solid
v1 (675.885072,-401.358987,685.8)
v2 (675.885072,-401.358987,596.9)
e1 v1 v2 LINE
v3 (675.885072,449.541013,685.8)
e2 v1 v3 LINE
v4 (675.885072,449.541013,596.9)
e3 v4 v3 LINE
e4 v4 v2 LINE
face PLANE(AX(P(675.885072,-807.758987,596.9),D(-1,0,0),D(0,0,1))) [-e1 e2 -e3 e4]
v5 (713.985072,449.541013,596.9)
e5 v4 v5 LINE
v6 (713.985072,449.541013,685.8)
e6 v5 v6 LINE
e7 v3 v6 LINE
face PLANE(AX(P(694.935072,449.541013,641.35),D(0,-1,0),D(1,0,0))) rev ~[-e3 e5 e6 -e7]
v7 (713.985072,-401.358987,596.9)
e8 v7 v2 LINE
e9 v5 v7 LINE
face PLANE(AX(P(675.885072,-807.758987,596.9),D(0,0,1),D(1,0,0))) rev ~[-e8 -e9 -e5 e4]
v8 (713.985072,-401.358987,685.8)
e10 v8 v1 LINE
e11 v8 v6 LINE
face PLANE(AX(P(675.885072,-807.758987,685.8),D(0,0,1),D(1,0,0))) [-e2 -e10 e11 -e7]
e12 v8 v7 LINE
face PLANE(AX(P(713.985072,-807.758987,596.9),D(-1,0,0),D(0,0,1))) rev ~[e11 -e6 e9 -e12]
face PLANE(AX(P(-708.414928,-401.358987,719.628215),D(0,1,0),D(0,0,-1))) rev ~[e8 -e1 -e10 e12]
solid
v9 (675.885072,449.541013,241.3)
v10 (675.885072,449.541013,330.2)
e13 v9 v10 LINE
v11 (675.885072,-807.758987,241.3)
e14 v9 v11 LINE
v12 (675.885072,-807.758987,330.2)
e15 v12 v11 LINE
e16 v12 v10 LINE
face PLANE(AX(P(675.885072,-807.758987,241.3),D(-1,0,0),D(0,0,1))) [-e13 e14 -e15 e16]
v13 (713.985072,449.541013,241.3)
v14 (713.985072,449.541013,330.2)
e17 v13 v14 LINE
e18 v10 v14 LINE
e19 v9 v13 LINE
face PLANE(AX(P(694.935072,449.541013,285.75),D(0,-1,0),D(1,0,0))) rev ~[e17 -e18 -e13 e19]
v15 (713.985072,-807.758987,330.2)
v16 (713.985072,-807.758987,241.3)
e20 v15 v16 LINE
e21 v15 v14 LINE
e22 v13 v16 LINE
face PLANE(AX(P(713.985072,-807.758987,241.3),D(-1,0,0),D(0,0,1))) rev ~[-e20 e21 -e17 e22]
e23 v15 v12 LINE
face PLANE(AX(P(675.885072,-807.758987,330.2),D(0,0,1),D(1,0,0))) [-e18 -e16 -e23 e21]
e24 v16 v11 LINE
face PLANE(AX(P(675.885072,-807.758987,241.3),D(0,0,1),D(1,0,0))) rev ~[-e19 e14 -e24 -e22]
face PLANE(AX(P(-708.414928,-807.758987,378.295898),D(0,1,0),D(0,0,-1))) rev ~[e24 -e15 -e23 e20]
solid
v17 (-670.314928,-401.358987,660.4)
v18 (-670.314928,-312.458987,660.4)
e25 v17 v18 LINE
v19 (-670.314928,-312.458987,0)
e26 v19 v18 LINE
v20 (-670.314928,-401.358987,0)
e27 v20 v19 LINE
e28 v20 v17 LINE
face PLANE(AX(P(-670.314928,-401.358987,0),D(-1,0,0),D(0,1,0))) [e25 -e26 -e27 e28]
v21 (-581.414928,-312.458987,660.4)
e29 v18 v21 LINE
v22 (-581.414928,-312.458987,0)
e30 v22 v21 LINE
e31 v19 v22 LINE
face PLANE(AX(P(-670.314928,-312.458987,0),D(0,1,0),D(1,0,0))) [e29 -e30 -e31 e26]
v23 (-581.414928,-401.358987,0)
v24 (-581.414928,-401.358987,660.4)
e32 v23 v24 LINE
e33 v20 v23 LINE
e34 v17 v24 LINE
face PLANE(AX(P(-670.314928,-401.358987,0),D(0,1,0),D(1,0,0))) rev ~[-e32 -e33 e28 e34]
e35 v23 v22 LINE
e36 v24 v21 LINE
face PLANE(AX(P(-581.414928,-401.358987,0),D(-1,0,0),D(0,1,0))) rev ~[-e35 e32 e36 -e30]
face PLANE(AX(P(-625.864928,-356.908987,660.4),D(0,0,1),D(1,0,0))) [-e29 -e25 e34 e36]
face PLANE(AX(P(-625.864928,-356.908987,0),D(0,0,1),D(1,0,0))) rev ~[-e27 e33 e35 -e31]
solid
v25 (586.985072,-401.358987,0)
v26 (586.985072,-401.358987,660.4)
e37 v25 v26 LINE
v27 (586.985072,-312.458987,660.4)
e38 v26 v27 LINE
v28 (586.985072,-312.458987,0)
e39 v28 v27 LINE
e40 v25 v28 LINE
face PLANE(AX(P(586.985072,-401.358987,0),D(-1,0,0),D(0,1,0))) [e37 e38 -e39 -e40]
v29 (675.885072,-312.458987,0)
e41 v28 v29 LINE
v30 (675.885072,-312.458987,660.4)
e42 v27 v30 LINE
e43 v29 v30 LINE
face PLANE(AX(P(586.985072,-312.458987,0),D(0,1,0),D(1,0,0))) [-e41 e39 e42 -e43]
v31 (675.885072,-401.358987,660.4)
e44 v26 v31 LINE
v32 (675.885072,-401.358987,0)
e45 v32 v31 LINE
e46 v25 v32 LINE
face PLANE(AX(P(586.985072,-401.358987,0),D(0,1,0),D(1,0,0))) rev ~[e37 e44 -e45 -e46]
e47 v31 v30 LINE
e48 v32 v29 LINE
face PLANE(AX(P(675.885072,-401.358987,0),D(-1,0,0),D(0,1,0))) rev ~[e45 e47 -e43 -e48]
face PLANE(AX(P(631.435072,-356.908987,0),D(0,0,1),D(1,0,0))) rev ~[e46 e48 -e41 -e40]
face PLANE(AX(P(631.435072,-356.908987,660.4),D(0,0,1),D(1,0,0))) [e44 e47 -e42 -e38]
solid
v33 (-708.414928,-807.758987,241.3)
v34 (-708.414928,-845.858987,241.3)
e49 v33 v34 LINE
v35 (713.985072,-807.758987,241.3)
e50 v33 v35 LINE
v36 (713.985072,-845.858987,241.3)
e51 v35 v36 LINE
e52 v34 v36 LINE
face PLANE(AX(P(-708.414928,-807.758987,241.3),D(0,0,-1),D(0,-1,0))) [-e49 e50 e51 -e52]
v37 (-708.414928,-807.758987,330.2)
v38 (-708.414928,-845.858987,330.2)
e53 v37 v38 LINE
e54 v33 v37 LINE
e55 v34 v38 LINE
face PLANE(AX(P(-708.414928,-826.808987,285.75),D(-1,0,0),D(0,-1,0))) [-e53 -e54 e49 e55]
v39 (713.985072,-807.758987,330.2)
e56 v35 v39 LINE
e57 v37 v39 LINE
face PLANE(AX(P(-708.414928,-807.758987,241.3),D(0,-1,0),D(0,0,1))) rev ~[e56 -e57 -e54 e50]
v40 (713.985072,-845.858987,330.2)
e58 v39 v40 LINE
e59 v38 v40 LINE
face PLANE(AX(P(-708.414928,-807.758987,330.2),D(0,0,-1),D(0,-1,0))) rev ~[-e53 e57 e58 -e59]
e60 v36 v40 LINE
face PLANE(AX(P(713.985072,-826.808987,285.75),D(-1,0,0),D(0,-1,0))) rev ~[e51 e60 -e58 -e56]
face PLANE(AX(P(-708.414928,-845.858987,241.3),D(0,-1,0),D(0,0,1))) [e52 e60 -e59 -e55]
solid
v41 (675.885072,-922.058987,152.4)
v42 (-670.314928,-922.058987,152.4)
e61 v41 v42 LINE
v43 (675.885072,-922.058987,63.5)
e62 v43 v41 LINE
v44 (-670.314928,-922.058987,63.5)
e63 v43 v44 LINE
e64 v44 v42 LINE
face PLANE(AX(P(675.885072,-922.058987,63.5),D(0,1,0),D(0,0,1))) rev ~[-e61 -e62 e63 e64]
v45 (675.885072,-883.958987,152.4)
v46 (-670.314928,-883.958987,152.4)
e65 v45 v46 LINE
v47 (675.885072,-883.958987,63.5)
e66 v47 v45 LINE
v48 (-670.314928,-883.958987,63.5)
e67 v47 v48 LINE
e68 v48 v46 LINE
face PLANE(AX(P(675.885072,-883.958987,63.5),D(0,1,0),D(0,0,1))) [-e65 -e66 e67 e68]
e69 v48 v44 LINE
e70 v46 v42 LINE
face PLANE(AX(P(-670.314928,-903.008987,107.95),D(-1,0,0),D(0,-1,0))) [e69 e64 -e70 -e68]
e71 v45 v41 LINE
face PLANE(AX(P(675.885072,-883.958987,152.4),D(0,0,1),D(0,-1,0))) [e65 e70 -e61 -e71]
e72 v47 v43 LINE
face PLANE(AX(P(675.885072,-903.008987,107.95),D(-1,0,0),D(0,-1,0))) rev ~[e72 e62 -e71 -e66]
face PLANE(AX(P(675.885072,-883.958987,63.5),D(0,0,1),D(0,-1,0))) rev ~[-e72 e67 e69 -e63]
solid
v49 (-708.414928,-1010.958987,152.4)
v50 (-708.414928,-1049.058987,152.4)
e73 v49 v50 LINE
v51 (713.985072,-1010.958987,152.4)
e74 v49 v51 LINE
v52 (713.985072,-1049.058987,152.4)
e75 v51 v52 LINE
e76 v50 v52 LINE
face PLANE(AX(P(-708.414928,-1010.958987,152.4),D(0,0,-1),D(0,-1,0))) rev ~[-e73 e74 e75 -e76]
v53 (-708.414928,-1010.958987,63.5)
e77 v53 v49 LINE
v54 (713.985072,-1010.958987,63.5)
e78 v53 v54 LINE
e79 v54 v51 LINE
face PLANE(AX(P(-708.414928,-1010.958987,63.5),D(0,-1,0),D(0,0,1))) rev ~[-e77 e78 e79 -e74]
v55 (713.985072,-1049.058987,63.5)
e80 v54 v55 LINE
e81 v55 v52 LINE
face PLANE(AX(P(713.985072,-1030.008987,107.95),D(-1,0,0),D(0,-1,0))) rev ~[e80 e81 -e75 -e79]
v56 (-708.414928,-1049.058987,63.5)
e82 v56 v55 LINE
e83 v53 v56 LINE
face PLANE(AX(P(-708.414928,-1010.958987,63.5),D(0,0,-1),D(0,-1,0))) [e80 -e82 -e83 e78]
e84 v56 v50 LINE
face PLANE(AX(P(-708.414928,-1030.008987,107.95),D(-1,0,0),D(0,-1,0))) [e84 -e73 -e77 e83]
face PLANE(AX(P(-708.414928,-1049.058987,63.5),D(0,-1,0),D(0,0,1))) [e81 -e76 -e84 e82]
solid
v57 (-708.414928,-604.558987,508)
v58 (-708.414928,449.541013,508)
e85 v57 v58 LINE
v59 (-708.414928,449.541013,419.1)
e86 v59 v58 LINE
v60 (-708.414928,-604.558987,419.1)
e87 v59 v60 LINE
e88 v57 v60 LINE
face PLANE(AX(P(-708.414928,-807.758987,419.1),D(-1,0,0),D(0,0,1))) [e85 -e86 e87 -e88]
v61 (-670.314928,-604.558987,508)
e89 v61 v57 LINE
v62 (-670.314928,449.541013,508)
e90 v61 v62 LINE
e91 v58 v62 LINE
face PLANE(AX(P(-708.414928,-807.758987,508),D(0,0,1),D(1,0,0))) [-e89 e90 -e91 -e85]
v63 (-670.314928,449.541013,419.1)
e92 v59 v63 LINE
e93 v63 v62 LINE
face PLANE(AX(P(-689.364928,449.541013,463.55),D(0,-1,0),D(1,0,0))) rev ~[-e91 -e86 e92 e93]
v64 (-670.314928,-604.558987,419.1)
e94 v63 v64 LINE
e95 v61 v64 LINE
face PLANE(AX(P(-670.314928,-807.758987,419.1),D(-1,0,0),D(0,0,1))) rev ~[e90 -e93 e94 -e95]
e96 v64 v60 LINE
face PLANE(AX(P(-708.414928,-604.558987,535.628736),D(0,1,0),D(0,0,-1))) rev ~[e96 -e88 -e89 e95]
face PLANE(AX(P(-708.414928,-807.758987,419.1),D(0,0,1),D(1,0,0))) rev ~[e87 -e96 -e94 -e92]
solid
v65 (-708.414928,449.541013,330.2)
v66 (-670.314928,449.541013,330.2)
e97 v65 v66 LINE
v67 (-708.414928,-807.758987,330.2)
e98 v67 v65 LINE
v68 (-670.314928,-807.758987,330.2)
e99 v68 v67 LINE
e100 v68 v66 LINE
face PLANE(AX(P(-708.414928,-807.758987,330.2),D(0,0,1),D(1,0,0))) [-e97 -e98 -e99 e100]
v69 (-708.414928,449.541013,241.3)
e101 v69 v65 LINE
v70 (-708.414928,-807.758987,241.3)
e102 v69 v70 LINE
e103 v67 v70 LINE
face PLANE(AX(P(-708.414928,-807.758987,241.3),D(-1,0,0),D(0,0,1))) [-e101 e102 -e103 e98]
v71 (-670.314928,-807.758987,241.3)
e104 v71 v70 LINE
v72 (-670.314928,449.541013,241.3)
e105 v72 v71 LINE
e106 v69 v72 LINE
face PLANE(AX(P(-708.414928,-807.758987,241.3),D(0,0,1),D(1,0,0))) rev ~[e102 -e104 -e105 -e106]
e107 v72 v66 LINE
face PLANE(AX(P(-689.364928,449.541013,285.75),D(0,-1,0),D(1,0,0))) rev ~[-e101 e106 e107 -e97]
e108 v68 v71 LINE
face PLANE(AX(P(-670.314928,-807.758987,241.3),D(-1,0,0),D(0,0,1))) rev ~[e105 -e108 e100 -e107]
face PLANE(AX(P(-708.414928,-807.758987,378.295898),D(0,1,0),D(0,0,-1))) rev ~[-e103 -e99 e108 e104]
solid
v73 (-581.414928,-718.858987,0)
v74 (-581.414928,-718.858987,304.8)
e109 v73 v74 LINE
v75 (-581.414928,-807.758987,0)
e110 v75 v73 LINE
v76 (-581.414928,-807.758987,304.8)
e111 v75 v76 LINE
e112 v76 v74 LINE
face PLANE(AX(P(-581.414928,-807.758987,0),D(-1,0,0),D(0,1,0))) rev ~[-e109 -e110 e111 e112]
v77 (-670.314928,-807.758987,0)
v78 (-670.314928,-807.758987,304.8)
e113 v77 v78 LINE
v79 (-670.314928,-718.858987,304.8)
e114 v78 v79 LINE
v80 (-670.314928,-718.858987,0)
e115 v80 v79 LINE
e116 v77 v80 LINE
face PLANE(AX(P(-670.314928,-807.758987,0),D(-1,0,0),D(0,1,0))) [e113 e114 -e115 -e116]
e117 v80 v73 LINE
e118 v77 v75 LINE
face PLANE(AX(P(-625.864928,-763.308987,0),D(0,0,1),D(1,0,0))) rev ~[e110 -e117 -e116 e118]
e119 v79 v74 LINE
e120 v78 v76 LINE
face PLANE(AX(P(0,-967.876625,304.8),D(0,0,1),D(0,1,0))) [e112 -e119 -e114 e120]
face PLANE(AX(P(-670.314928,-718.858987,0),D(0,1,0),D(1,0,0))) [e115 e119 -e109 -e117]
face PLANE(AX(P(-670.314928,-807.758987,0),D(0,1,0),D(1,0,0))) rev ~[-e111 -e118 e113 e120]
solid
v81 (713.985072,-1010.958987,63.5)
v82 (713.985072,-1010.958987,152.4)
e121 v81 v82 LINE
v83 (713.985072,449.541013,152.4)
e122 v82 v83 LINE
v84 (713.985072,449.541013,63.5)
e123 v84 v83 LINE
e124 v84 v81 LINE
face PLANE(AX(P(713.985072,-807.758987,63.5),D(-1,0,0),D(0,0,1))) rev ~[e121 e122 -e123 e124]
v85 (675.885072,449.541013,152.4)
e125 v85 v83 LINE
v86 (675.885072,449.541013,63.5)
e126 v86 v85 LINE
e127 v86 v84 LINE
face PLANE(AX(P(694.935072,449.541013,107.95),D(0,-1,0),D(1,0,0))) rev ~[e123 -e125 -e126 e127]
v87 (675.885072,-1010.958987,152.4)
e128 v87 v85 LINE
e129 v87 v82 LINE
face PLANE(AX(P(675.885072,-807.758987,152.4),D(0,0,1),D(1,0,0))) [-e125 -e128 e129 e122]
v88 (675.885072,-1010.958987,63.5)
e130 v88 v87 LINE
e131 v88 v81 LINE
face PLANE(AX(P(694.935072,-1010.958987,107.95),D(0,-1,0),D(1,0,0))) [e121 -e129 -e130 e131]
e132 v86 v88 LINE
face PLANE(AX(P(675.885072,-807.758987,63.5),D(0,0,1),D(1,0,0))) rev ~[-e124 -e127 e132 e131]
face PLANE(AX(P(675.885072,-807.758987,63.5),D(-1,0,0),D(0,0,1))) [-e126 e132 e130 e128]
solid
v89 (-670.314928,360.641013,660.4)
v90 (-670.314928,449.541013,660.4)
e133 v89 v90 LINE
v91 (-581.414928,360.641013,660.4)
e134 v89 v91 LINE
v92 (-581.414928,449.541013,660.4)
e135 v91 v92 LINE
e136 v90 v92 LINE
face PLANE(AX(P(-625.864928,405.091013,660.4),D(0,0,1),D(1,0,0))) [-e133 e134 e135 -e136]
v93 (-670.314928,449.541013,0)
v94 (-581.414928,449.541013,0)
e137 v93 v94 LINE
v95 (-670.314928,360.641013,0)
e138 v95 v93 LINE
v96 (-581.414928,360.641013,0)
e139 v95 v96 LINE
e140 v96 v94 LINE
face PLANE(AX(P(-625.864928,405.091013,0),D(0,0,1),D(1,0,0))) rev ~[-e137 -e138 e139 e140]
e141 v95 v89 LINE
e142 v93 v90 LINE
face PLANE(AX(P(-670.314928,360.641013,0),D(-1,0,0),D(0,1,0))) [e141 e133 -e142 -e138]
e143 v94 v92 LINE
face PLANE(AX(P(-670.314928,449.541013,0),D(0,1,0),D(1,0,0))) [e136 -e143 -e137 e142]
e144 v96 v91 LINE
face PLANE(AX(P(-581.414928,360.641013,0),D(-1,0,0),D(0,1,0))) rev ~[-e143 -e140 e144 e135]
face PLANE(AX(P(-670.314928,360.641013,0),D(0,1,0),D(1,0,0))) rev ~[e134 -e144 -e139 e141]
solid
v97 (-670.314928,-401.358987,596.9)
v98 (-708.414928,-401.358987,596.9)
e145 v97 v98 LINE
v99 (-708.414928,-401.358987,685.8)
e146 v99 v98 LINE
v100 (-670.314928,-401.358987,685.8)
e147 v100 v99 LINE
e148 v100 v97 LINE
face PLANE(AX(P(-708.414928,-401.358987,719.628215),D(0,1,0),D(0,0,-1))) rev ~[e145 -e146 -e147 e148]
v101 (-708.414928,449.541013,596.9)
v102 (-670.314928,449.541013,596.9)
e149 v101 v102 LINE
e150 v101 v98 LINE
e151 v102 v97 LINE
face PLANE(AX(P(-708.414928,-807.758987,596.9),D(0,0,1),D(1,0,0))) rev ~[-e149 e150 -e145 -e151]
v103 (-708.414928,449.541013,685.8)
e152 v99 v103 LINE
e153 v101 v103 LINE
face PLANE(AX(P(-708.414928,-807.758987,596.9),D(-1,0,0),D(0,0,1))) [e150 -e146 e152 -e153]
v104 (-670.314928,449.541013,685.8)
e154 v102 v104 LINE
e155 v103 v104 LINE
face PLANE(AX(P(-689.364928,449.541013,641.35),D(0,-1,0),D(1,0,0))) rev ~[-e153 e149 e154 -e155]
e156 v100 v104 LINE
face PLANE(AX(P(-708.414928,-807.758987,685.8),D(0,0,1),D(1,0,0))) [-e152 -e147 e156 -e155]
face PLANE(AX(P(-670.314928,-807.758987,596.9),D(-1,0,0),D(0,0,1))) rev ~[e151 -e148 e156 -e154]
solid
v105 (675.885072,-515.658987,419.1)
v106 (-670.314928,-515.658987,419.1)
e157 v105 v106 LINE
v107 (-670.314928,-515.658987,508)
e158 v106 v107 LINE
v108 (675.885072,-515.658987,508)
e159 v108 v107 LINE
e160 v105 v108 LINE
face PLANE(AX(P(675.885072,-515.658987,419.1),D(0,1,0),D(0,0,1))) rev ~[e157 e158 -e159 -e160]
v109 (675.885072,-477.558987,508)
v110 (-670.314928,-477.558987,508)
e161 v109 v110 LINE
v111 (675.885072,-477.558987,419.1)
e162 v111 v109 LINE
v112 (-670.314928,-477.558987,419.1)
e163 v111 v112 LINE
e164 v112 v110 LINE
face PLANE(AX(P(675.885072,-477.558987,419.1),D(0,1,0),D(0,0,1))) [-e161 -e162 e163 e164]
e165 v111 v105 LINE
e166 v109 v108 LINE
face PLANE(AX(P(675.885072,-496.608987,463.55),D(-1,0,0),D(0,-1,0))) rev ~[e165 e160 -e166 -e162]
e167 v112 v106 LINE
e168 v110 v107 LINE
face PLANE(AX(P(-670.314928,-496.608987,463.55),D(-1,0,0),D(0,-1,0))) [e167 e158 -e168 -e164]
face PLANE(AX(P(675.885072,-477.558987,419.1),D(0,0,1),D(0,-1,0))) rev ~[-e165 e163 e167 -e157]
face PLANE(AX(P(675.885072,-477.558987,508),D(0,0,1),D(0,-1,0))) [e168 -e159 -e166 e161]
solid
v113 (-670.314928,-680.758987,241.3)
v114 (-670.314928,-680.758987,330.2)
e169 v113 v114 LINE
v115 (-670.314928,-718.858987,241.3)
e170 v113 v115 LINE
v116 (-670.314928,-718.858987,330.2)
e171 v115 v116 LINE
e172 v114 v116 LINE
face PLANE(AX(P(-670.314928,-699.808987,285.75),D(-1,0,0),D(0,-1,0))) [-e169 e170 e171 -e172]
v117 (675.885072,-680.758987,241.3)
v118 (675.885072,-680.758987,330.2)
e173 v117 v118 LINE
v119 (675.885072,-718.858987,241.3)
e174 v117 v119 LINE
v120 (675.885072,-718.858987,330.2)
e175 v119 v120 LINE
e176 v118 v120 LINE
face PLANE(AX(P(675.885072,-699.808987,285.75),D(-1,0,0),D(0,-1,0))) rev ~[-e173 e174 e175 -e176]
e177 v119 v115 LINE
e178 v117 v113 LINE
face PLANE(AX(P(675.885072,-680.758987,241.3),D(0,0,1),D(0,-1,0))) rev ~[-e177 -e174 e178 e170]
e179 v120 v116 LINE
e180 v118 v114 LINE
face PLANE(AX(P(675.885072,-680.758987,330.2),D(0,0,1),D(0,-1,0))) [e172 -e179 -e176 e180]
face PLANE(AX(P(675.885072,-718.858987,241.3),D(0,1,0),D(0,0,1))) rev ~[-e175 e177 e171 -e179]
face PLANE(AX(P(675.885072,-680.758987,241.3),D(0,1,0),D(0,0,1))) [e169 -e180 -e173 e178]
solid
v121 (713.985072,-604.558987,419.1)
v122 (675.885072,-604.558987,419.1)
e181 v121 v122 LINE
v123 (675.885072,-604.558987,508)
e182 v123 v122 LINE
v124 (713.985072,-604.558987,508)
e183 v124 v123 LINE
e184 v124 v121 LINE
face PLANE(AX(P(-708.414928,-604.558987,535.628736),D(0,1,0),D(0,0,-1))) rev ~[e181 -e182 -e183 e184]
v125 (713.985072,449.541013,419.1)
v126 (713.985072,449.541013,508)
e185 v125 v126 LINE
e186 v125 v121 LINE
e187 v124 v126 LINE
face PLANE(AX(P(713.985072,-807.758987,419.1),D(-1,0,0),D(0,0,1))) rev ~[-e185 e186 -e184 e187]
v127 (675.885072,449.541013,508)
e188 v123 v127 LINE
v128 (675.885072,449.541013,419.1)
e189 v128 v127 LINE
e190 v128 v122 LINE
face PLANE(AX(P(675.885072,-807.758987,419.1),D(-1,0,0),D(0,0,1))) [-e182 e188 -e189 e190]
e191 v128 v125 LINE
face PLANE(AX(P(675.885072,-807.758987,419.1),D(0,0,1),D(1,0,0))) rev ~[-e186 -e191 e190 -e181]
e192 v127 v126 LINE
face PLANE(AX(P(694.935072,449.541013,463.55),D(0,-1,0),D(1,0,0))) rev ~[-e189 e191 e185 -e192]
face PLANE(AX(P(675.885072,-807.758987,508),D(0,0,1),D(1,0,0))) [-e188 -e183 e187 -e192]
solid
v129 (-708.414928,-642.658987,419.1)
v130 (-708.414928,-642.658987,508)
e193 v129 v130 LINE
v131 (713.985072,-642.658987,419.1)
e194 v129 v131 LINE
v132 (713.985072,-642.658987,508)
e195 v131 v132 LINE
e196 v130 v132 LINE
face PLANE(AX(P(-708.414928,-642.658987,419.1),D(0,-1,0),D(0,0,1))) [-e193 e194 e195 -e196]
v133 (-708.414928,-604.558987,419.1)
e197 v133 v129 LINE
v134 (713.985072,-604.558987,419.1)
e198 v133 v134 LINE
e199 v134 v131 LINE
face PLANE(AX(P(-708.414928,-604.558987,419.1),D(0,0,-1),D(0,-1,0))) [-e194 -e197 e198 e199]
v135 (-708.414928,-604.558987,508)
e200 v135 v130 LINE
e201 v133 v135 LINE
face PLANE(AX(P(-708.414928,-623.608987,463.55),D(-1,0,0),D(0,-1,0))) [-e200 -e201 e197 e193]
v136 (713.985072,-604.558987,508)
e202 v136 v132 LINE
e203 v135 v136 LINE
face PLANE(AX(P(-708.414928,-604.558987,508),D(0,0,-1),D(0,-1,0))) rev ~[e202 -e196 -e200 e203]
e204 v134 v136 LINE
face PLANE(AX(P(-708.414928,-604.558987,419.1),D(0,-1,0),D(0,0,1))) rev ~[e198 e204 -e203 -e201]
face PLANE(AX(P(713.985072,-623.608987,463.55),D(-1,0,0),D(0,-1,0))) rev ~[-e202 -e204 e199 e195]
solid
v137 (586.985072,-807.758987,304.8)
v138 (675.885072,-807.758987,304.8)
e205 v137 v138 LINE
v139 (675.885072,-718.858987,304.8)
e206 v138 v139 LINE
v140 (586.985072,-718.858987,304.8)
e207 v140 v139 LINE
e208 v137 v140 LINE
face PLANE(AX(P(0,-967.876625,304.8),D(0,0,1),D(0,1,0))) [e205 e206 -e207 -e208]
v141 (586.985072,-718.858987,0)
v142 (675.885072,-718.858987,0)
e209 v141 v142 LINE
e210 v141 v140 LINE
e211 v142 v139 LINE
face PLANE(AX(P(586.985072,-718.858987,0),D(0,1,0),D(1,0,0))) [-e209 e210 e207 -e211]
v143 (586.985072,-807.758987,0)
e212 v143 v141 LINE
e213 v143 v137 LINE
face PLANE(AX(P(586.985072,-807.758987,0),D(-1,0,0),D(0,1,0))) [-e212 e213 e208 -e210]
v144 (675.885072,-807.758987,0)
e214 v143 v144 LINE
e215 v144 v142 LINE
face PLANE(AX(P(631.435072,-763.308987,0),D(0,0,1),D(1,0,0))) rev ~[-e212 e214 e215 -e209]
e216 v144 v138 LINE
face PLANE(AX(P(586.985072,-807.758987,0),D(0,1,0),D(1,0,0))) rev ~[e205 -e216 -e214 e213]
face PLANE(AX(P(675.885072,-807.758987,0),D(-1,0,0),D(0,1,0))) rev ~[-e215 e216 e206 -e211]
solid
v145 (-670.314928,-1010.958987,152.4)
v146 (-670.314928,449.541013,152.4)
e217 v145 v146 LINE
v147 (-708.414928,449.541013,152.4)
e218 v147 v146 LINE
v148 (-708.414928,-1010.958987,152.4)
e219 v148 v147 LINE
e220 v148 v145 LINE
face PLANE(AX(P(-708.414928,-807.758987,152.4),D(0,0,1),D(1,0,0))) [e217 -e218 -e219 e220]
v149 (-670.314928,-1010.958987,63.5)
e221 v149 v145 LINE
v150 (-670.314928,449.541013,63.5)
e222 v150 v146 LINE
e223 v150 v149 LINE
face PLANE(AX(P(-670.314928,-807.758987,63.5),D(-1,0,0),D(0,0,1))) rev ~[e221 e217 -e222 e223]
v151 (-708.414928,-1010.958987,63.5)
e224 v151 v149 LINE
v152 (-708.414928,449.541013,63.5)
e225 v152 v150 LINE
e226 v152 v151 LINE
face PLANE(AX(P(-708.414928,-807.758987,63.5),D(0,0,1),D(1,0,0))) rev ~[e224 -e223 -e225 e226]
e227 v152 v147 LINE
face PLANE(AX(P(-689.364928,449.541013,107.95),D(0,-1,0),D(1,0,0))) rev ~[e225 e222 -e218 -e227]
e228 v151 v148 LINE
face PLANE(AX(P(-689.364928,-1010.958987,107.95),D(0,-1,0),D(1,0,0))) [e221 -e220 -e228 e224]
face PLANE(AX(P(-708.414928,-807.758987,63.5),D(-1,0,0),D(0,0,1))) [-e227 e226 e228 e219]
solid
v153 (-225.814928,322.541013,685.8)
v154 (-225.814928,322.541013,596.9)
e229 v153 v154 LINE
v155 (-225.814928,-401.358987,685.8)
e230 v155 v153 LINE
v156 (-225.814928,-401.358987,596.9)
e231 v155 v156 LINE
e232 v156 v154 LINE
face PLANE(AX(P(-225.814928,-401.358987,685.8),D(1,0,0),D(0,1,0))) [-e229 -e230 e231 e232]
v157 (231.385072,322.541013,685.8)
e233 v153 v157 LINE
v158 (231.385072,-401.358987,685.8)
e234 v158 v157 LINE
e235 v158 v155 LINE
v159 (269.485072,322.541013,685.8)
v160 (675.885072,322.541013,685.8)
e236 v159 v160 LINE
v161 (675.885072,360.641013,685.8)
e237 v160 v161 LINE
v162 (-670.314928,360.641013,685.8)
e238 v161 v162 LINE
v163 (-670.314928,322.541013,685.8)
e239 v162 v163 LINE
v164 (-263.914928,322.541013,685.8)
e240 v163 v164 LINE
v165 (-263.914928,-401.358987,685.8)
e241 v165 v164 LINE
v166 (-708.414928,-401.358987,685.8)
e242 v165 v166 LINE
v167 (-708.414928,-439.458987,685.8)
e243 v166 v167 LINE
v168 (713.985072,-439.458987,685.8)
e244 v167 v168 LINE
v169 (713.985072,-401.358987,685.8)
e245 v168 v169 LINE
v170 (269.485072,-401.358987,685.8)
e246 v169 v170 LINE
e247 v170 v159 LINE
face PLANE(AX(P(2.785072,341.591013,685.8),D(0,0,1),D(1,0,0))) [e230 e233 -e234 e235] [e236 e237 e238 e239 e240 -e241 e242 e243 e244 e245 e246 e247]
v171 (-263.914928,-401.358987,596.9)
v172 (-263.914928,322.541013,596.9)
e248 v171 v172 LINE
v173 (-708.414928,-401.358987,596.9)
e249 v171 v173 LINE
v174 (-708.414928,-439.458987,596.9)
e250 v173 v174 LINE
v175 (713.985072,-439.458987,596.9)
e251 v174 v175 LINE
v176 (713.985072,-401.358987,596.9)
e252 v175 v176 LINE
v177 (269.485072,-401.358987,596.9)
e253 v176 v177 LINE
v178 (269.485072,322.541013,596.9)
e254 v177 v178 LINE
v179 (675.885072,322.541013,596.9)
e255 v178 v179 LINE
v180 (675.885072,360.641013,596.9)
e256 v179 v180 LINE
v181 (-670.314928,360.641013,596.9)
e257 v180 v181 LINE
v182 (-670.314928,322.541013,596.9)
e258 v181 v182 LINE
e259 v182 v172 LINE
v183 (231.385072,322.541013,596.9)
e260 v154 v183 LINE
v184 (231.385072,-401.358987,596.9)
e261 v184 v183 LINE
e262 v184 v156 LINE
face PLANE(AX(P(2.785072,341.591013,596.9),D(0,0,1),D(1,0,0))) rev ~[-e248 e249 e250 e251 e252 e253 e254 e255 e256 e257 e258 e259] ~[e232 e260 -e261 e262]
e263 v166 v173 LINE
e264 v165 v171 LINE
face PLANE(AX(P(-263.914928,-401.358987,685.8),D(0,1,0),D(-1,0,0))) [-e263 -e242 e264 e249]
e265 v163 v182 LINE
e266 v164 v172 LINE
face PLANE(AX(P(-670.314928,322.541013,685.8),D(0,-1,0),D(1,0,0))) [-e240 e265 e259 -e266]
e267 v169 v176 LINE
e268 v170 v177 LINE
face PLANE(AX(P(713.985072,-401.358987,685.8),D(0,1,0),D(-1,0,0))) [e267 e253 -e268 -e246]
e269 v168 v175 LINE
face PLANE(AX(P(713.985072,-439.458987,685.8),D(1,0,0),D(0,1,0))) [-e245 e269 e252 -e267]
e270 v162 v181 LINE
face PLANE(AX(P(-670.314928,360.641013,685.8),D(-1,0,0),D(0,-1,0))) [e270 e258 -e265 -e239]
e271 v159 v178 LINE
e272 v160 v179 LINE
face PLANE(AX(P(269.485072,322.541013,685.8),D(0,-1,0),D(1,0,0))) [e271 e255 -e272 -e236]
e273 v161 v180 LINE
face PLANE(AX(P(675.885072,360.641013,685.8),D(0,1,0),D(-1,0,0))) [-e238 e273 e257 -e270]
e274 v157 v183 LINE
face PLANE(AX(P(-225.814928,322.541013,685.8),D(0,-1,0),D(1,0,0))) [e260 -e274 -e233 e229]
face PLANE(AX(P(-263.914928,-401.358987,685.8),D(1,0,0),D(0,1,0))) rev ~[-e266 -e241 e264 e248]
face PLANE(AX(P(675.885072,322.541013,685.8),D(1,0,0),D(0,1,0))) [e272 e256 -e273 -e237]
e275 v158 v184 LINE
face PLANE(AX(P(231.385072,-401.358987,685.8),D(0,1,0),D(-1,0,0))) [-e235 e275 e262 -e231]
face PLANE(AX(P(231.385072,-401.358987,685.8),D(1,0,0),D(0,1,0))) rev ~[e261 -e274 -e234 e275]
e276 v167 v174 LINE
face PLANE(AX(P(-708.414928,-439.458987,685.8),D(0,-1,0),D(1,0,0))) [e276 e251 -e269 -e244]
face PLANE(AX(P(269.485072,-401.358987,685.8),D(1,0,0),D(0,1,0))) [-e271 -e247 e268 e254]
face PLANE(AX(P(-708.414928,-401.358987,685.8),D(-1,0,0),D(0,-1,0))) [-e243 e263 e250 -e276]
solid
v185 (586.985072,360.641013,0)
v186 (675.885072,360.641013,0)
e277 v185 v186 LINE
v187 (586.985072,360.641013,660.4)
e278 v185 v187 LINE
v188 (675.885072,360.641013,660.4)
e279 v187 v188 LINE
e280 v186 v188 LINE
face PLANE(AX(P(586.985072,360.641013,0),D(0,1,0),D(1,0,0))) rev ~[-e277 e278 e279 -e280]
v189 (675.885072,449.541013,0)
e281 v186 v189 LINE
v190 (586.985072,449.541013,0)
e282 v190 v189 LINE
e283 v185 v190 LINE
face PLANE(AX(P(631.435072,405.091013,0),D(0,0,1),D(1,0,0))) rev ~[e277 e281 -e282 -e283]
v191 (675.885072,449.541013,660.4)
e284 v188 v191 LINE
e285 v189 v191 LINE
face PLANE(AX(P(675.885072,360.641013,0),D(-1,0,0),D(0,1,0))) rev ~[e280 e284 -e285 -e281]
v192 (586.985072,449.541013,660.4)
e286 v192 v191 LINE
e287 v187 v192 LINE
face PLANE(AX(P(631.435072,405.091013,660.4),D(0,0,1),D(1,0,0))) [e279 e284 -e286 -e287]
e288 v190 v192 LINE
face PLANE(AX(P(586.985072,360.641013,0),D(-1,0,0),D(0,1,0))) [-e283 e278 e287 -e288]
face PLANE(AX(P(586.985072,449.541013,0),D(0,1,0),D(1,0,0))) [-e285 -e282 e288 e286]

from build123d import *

# Parameters (mm, degrees)
F0_W          = 88.9
F0_H          = 88.9
F1_DEPTH      = 660.4
F2_W          = 370.2267042065
F2_H          = 403.1921241929
F3_DEPTH      = 1183.64
F3_DEPTH_BACK = 1132.84
F4_W          = 38.1
F4_H          = 88.9
F5_DEPTH      = 1257.3
F5_DEPTH_BACK = 203.2
F7_DEPTH      = 2004.06
F8_W          = 38.1
F8_H          = 723.9
F9_DEPTH      = 88.9
F10_W         = 38.1
F10_H         = 88.9
F11_DEPTH     = 1422.4
F12_W         = 38.1
F12_H         = 88.9
F13_DEPTH     = 1346.2


with BuildPart() as f1:
    # F0 (on Top) → F1 (new body)
    with BuildSketch(Plane.XY):
        with Locations((-625.8649276083, 405.0910130501)):
            Rectangle(F0_W, F0_H)
    extrude(amount=F1_DEPTH)


with BuildPart() as f1b:
    # F0 (on Top) → F1, piece 2 (new body)
    with BuildSketch(Plane.XY):
        with Locations((631.4350723917, 405.0910130501)):
            Rectangle(F0_W, F0_H)
    extrude(amount=F1_DEPTH)


with BuildPart() as f1c:
    # F0 (on Top) → F1, piece 3 (new body)
    with BuildSketch(Plane.XY):
        with Locations((-625.8649276083, -356.9089869499)):
            Rectangle(F0_W, F0_H)
    extrude(amount=F1_DEPTH)


with BuildPart() as f1d:
    # F0 (on Top) → F1, piece 4 (new body)
    with BuildSketch(Plane.XY):
        with Locations((631.4350723917, -356.9089869499)):
            Rectangle(F0_W, F0_H)
    extrude(amount=F1_DEPTH)


with BuildPart() as f1e:
    # F0 (on Top) → F1, piece 5 (new body)
    with BuildSketch(Plane.XY):
        with Locations((-625.8649276083, -763.3089869499)):
            Rectangle(F0_W, F0_H)
    extrude(amount=F1_DEPTH)


with BuildPart() as f1f:
    # F0 (on Top) → F1, piece 6 (new body)
    with BuildSketch(Plane.XY):
        with Locations((631.4350723917, -763.3089869499)):
            Rectangle(F0_W, F0_H)
    extrude(amount=F1_DEPTH)


with BuildPart() as f3_tool:
    # F2 (on Right) → F3 (new body, two sides)
    with BuildSketch(Plane.YZ) as f3_sk:
        with Locations((-782.7632725239, 506.3960620965)):
            Rectangle(F2_W, F2_H)
    extrude(amount=-F3_DEPTH)
    extrude(f3_sk.sketch, amount=F3_DEPTH_BACK)


with BuildPart() as f1e_1:
    add(f1e.part)

    # F3: cut by f3_tool
    add(f3_tool.part, mode=Mode.SUBTRACT)


with BuildPart() as f1f_1:
    add(f1f.part)

    # F3: cut by f3_tool
    add(f3_tool.part, mode=Mode.SUBTRACT)


with BuildPart() as f5:
    # F4 (on face) → F5 (new body, two sides)
    with BuildSketch(Plane.XZ.offset(807.7589869499)) as f5_sk:
        with Locations((-689.3649276083, 641.35)):
            Rectangle(F4_W, F4_H)
    extrude(amount=-F5_DEPTH)
    extrude(f5_sk.sketch, amount=F5_DEPTH_BACK)


with BuildPart() as f5b:
    # F4 (on face) → F5, piece 2 (new body, two sides)
    with BuildSketch(Plane.XZ.offset(807.7589869499)) as f5_2_sk:
        with Locations((694.9350723917, 641.35)):
            Rectangle(F4_W, F4_H)
    extrude(amount=-F5_DEPTH)
    extrude(f5_2_sk.sketch, amount=F5_DEPTH_BACK)


with BuildPart() as f5c:
    # F4 (on face) → F5, piece 3 (new body, two sides)
    with BuildSketch(Plane.XZ.offset(807.7589869499)) as f5_3_sk:
        with Locations((-689.3649276083, 285.75)):
            Rectangle(F4_W, F4_H)
    extrude(amount=-F5_DEPTH)
    extrude(f5_3_sk.sketch, amount=F5_DEPTH_BACK)


with BuildPart() as f5d:
    # F4 (on face) → F5, piece 4 (new body, two sides)
    with BuildSketch(Plane.XZ.offset(807.7589869499)) as f5_4_sk:
        with Locations((694.9350723917, 285.75)):
            Rectangle(F4_W, F4_H)
    extrude(amount=-F5_DEPTH)
    extrude(f5_4_sk.sketch, amount=F5_DEPTH_BACK)


with BuildPart() as f5e:
    # F4 (on face) → F5, piece 5 (new body, two sides)
    with BuildSketch(Plane.XZ.offset(807.7589869499)) as f5_5_sk:
        with Locations((-689.3649276083, 107.95)):
            Rectangle(F4_W, F4_H)
    extrude(amount=-F5_DEPTH)
    extrude(f5_5_sk.sketch, amount=F5_DEPTH_BACK)


with BuildPart() as f5f:
    # F4 (on face) → F5, piece 6 (new body, two sides)
    with BuildSketch(Plane.XZ.offset(807.7589869499)) as f5_6_sk:
        with Locations((694.9350723917, 107.95)):
            Rectangle(F4_W, F4_H)
    extrude(amount=-F5_DEPTH)
    extrude(f5_6_sk.sketch, amount=F5_DEPTH_BACK)


with BuildPart() as f5g:
    # F4 (on face) → F5, piece 7 (new body, two sides)
    with BuildSketch(Plane.XZ.offset(807.7589869499)) as f5_7_sk:
        with Locations((-689.3649276083, 463.55)):
            Rectangle(F4_W, F4_H)
    extrude(amount=-F5_DEPTH)
    extrude(f5_7_sk.sketch, amount=F5_DEPTH_BACK)


with BuildPart() as f5h:
    # F4 (on face) → F5, piece 8 (new body, two sides)
    with BuildSketch(Plane.XZ.offset(807.7589869499)) as f5_8_sk:
        with Locations((694.9350723917, 463.55)):
            Rectangle(F4_W, F4_H)
    extrude(amount=-F5_DEPTH)
    extrude(f5_8_sk.sketch, amount=F5_DEPTH_BACK)


with BuildPart() as f7_tool:
    # F6 (on face) → F7 (new body)
    with BuildSketch(Plane(origin=(-708.4149276083, 0, 0), x_dir=(0, -1, 0), z_dir=(-1, 0, 0))):
        Polygon((1041.3569460869, 722.2948670387), (401.3589869499, 719.6282148361), (401.3589869499, 535.6287360191), (604.5589869499, 535.6287360191), (604.5589869499, 378.2958984375), (807.7589869499, 378.2958984375), (807.7589869499, 220.9630459547), (1041.3569460869, 220.9630459547), align=None)
    extrude(amount=-F7_DEPTH)


with BuildPart() as f5_1:
    add(f5.part)

    # F7: cut by f7_tool
    add(f7_tool.part, mode=Mode.SUBTRACT)


with BuildPart() as f5b_1:
    add(f5b.part)

    # F7: cut by f7_tool
    add(f7_tool.part, mode=Mode.SUBTRACT)


with BuildPart() as f5c_1:
    add(f5c.part)

    # F7: cut by f7_tool
    add(f7_tool.part, mode=Mode.SUBTRACT)


with BuildPart() as f5d_1:
    add(f5d.part)

    # F7: cut by f7_tool
    add(f7_tool.part, mode=Mode.SUBTRACT)


with BuildPart() as f5g_1:
    add(f5g.part)

    # F7: cut by f7_tool
    add(f7_tool.part, mode=Mode.SUBTRACT)


with BuildPart() as f5h_1:
    add(f5h.part)

    # F7: cut by f7_tool
    add(f7_tool.part, mode=Mode.SUBTRACT)


with BuildPart() as f9:
    # F8 (on face) → F9 (new body)
    with BuildSketch(Plane.XY.offset(685.8)):
        Polygon((675.8850723917, 360.6410130501), (-670.3149276083, 360.6410130501), (-670.3149276083, 322.5410130501), (-263.9149276083, 322.5410130501), (-225.8149276083, 322.5410130501), (231.3850723917, 322.5410130501), (269.4850723917, 322.5410130501), (675.8850723917, 322.5410130501), align=None)
        with Locations((-244.8649276083, -39.4089869499)):
            Rectangle(F8_W, F8_H)
        with Locations((250.4350723917, -39.4089869499)):
            Rectangle(F8_W, F8_H)
        Polygon((-225.8149276083, -401.3589869499), (-263.9149276083, -401.3589869499), (-708.4149276083, -401.3589869499), (-708.4149276083, -439.4589869499), (713.9850723917, -439.4589869499), (713.9850723917, -401.3589869499), (269.4850723917, -401.3589869499), (231.3850723917, -401.3589869499), align=None)
    extrude(amount=-F9_DEPTH)


with BuildPart() as f11:
    # F10 (on face) → F11 (new body, through all)
    with BuildSketch(Plane(origin=(-708.4149276083, 0, 0), x_dir=(0, -1, 0), z_dir=(-1, 0, 0))):
        with Locations((623.6089869499, 463.55)):
            Rectangle(F10_W, F10_H)
    extrude(amount=-F11_DEPTH)


with BuildPart() as f11b:
    # F10 (on face) → F11, piece 2 (new body, through all)
    with BuildSketch(Plane(origin=(-708.4149276083, 0, 0), x_dir=(0, -1, 0), z_dir=(-1, 0, 0))):
        with Locations((826.8089869499, 285.75)):
            Rectangle(F10_W, F10_H)
    extrude(amount=-F11_DEPTH)


with BuildPart() as f11c:
    # F10 (on face) → F11, piece 3 (new body, through all)
    with BuildSketch(Plane(origin=(-708.4149276083, 0, 0), x_dir=(0, -1, 0), z_dir=(-1, 0, 0))):
        with Locations((1030.0089869499, 107.95)):
            Rectangle(F10_W, F10_H)
    extrude(amount=-F11_DEPTH)


with BuildPart() as f13:
    # F12 (on face) → F13 (new body, through all)
    with BuildSketch(Plane(origin=(675.8850723917, 0, 0), x_dir=(0, -1, 0), z_dir=(-1, 0, 0))):
        with Locations((496.6089869499, 463.55)):
            Rectangle(F12_W, F12_H)
    extrude(amount=F13_DEPTH)


with BuildPart() as f13b:
    # F12 (on face) → F13, piece 2 (new body, through all)
    with BuildSketch(Plane(origin=(675.8850723917, 0, 0), x_dir=(0, -1, 0), z_dir=(-1, 0, 0))):
        with Locations((903.0089869499, 107.95)):
            Rectangle(F12_W, F12_H)
    extrude(amount=F13_DEPTH)


with BuildPart() as f13c:
    # F12 (on face) → F13, piece 3 (new body, through all)
    with BuildSketch(Plane(origin=(675.8850723917, 0, 0), x_dir=(0, -1, 0), z_dir=(-1, 0, 0))):
        with Locations((699.8089869499, 285.75)):
            Rectangle(F12_W, F12_H)
    extrude(amount=F13_DEPTH)


solid = Compound([f1.part, f1b.part, f1c.part, f1d.part, f1e_1.part, f1f_1.part, f5e.part, f5f.part, f5_1.part, f5b_1.part, f5c_1.part, f5d_1.part, f5g_1.part, f5h_1.part, f9.part, f11.part, f11b.part, f11c.part, f13.part, f13b.part, f13c.part])
